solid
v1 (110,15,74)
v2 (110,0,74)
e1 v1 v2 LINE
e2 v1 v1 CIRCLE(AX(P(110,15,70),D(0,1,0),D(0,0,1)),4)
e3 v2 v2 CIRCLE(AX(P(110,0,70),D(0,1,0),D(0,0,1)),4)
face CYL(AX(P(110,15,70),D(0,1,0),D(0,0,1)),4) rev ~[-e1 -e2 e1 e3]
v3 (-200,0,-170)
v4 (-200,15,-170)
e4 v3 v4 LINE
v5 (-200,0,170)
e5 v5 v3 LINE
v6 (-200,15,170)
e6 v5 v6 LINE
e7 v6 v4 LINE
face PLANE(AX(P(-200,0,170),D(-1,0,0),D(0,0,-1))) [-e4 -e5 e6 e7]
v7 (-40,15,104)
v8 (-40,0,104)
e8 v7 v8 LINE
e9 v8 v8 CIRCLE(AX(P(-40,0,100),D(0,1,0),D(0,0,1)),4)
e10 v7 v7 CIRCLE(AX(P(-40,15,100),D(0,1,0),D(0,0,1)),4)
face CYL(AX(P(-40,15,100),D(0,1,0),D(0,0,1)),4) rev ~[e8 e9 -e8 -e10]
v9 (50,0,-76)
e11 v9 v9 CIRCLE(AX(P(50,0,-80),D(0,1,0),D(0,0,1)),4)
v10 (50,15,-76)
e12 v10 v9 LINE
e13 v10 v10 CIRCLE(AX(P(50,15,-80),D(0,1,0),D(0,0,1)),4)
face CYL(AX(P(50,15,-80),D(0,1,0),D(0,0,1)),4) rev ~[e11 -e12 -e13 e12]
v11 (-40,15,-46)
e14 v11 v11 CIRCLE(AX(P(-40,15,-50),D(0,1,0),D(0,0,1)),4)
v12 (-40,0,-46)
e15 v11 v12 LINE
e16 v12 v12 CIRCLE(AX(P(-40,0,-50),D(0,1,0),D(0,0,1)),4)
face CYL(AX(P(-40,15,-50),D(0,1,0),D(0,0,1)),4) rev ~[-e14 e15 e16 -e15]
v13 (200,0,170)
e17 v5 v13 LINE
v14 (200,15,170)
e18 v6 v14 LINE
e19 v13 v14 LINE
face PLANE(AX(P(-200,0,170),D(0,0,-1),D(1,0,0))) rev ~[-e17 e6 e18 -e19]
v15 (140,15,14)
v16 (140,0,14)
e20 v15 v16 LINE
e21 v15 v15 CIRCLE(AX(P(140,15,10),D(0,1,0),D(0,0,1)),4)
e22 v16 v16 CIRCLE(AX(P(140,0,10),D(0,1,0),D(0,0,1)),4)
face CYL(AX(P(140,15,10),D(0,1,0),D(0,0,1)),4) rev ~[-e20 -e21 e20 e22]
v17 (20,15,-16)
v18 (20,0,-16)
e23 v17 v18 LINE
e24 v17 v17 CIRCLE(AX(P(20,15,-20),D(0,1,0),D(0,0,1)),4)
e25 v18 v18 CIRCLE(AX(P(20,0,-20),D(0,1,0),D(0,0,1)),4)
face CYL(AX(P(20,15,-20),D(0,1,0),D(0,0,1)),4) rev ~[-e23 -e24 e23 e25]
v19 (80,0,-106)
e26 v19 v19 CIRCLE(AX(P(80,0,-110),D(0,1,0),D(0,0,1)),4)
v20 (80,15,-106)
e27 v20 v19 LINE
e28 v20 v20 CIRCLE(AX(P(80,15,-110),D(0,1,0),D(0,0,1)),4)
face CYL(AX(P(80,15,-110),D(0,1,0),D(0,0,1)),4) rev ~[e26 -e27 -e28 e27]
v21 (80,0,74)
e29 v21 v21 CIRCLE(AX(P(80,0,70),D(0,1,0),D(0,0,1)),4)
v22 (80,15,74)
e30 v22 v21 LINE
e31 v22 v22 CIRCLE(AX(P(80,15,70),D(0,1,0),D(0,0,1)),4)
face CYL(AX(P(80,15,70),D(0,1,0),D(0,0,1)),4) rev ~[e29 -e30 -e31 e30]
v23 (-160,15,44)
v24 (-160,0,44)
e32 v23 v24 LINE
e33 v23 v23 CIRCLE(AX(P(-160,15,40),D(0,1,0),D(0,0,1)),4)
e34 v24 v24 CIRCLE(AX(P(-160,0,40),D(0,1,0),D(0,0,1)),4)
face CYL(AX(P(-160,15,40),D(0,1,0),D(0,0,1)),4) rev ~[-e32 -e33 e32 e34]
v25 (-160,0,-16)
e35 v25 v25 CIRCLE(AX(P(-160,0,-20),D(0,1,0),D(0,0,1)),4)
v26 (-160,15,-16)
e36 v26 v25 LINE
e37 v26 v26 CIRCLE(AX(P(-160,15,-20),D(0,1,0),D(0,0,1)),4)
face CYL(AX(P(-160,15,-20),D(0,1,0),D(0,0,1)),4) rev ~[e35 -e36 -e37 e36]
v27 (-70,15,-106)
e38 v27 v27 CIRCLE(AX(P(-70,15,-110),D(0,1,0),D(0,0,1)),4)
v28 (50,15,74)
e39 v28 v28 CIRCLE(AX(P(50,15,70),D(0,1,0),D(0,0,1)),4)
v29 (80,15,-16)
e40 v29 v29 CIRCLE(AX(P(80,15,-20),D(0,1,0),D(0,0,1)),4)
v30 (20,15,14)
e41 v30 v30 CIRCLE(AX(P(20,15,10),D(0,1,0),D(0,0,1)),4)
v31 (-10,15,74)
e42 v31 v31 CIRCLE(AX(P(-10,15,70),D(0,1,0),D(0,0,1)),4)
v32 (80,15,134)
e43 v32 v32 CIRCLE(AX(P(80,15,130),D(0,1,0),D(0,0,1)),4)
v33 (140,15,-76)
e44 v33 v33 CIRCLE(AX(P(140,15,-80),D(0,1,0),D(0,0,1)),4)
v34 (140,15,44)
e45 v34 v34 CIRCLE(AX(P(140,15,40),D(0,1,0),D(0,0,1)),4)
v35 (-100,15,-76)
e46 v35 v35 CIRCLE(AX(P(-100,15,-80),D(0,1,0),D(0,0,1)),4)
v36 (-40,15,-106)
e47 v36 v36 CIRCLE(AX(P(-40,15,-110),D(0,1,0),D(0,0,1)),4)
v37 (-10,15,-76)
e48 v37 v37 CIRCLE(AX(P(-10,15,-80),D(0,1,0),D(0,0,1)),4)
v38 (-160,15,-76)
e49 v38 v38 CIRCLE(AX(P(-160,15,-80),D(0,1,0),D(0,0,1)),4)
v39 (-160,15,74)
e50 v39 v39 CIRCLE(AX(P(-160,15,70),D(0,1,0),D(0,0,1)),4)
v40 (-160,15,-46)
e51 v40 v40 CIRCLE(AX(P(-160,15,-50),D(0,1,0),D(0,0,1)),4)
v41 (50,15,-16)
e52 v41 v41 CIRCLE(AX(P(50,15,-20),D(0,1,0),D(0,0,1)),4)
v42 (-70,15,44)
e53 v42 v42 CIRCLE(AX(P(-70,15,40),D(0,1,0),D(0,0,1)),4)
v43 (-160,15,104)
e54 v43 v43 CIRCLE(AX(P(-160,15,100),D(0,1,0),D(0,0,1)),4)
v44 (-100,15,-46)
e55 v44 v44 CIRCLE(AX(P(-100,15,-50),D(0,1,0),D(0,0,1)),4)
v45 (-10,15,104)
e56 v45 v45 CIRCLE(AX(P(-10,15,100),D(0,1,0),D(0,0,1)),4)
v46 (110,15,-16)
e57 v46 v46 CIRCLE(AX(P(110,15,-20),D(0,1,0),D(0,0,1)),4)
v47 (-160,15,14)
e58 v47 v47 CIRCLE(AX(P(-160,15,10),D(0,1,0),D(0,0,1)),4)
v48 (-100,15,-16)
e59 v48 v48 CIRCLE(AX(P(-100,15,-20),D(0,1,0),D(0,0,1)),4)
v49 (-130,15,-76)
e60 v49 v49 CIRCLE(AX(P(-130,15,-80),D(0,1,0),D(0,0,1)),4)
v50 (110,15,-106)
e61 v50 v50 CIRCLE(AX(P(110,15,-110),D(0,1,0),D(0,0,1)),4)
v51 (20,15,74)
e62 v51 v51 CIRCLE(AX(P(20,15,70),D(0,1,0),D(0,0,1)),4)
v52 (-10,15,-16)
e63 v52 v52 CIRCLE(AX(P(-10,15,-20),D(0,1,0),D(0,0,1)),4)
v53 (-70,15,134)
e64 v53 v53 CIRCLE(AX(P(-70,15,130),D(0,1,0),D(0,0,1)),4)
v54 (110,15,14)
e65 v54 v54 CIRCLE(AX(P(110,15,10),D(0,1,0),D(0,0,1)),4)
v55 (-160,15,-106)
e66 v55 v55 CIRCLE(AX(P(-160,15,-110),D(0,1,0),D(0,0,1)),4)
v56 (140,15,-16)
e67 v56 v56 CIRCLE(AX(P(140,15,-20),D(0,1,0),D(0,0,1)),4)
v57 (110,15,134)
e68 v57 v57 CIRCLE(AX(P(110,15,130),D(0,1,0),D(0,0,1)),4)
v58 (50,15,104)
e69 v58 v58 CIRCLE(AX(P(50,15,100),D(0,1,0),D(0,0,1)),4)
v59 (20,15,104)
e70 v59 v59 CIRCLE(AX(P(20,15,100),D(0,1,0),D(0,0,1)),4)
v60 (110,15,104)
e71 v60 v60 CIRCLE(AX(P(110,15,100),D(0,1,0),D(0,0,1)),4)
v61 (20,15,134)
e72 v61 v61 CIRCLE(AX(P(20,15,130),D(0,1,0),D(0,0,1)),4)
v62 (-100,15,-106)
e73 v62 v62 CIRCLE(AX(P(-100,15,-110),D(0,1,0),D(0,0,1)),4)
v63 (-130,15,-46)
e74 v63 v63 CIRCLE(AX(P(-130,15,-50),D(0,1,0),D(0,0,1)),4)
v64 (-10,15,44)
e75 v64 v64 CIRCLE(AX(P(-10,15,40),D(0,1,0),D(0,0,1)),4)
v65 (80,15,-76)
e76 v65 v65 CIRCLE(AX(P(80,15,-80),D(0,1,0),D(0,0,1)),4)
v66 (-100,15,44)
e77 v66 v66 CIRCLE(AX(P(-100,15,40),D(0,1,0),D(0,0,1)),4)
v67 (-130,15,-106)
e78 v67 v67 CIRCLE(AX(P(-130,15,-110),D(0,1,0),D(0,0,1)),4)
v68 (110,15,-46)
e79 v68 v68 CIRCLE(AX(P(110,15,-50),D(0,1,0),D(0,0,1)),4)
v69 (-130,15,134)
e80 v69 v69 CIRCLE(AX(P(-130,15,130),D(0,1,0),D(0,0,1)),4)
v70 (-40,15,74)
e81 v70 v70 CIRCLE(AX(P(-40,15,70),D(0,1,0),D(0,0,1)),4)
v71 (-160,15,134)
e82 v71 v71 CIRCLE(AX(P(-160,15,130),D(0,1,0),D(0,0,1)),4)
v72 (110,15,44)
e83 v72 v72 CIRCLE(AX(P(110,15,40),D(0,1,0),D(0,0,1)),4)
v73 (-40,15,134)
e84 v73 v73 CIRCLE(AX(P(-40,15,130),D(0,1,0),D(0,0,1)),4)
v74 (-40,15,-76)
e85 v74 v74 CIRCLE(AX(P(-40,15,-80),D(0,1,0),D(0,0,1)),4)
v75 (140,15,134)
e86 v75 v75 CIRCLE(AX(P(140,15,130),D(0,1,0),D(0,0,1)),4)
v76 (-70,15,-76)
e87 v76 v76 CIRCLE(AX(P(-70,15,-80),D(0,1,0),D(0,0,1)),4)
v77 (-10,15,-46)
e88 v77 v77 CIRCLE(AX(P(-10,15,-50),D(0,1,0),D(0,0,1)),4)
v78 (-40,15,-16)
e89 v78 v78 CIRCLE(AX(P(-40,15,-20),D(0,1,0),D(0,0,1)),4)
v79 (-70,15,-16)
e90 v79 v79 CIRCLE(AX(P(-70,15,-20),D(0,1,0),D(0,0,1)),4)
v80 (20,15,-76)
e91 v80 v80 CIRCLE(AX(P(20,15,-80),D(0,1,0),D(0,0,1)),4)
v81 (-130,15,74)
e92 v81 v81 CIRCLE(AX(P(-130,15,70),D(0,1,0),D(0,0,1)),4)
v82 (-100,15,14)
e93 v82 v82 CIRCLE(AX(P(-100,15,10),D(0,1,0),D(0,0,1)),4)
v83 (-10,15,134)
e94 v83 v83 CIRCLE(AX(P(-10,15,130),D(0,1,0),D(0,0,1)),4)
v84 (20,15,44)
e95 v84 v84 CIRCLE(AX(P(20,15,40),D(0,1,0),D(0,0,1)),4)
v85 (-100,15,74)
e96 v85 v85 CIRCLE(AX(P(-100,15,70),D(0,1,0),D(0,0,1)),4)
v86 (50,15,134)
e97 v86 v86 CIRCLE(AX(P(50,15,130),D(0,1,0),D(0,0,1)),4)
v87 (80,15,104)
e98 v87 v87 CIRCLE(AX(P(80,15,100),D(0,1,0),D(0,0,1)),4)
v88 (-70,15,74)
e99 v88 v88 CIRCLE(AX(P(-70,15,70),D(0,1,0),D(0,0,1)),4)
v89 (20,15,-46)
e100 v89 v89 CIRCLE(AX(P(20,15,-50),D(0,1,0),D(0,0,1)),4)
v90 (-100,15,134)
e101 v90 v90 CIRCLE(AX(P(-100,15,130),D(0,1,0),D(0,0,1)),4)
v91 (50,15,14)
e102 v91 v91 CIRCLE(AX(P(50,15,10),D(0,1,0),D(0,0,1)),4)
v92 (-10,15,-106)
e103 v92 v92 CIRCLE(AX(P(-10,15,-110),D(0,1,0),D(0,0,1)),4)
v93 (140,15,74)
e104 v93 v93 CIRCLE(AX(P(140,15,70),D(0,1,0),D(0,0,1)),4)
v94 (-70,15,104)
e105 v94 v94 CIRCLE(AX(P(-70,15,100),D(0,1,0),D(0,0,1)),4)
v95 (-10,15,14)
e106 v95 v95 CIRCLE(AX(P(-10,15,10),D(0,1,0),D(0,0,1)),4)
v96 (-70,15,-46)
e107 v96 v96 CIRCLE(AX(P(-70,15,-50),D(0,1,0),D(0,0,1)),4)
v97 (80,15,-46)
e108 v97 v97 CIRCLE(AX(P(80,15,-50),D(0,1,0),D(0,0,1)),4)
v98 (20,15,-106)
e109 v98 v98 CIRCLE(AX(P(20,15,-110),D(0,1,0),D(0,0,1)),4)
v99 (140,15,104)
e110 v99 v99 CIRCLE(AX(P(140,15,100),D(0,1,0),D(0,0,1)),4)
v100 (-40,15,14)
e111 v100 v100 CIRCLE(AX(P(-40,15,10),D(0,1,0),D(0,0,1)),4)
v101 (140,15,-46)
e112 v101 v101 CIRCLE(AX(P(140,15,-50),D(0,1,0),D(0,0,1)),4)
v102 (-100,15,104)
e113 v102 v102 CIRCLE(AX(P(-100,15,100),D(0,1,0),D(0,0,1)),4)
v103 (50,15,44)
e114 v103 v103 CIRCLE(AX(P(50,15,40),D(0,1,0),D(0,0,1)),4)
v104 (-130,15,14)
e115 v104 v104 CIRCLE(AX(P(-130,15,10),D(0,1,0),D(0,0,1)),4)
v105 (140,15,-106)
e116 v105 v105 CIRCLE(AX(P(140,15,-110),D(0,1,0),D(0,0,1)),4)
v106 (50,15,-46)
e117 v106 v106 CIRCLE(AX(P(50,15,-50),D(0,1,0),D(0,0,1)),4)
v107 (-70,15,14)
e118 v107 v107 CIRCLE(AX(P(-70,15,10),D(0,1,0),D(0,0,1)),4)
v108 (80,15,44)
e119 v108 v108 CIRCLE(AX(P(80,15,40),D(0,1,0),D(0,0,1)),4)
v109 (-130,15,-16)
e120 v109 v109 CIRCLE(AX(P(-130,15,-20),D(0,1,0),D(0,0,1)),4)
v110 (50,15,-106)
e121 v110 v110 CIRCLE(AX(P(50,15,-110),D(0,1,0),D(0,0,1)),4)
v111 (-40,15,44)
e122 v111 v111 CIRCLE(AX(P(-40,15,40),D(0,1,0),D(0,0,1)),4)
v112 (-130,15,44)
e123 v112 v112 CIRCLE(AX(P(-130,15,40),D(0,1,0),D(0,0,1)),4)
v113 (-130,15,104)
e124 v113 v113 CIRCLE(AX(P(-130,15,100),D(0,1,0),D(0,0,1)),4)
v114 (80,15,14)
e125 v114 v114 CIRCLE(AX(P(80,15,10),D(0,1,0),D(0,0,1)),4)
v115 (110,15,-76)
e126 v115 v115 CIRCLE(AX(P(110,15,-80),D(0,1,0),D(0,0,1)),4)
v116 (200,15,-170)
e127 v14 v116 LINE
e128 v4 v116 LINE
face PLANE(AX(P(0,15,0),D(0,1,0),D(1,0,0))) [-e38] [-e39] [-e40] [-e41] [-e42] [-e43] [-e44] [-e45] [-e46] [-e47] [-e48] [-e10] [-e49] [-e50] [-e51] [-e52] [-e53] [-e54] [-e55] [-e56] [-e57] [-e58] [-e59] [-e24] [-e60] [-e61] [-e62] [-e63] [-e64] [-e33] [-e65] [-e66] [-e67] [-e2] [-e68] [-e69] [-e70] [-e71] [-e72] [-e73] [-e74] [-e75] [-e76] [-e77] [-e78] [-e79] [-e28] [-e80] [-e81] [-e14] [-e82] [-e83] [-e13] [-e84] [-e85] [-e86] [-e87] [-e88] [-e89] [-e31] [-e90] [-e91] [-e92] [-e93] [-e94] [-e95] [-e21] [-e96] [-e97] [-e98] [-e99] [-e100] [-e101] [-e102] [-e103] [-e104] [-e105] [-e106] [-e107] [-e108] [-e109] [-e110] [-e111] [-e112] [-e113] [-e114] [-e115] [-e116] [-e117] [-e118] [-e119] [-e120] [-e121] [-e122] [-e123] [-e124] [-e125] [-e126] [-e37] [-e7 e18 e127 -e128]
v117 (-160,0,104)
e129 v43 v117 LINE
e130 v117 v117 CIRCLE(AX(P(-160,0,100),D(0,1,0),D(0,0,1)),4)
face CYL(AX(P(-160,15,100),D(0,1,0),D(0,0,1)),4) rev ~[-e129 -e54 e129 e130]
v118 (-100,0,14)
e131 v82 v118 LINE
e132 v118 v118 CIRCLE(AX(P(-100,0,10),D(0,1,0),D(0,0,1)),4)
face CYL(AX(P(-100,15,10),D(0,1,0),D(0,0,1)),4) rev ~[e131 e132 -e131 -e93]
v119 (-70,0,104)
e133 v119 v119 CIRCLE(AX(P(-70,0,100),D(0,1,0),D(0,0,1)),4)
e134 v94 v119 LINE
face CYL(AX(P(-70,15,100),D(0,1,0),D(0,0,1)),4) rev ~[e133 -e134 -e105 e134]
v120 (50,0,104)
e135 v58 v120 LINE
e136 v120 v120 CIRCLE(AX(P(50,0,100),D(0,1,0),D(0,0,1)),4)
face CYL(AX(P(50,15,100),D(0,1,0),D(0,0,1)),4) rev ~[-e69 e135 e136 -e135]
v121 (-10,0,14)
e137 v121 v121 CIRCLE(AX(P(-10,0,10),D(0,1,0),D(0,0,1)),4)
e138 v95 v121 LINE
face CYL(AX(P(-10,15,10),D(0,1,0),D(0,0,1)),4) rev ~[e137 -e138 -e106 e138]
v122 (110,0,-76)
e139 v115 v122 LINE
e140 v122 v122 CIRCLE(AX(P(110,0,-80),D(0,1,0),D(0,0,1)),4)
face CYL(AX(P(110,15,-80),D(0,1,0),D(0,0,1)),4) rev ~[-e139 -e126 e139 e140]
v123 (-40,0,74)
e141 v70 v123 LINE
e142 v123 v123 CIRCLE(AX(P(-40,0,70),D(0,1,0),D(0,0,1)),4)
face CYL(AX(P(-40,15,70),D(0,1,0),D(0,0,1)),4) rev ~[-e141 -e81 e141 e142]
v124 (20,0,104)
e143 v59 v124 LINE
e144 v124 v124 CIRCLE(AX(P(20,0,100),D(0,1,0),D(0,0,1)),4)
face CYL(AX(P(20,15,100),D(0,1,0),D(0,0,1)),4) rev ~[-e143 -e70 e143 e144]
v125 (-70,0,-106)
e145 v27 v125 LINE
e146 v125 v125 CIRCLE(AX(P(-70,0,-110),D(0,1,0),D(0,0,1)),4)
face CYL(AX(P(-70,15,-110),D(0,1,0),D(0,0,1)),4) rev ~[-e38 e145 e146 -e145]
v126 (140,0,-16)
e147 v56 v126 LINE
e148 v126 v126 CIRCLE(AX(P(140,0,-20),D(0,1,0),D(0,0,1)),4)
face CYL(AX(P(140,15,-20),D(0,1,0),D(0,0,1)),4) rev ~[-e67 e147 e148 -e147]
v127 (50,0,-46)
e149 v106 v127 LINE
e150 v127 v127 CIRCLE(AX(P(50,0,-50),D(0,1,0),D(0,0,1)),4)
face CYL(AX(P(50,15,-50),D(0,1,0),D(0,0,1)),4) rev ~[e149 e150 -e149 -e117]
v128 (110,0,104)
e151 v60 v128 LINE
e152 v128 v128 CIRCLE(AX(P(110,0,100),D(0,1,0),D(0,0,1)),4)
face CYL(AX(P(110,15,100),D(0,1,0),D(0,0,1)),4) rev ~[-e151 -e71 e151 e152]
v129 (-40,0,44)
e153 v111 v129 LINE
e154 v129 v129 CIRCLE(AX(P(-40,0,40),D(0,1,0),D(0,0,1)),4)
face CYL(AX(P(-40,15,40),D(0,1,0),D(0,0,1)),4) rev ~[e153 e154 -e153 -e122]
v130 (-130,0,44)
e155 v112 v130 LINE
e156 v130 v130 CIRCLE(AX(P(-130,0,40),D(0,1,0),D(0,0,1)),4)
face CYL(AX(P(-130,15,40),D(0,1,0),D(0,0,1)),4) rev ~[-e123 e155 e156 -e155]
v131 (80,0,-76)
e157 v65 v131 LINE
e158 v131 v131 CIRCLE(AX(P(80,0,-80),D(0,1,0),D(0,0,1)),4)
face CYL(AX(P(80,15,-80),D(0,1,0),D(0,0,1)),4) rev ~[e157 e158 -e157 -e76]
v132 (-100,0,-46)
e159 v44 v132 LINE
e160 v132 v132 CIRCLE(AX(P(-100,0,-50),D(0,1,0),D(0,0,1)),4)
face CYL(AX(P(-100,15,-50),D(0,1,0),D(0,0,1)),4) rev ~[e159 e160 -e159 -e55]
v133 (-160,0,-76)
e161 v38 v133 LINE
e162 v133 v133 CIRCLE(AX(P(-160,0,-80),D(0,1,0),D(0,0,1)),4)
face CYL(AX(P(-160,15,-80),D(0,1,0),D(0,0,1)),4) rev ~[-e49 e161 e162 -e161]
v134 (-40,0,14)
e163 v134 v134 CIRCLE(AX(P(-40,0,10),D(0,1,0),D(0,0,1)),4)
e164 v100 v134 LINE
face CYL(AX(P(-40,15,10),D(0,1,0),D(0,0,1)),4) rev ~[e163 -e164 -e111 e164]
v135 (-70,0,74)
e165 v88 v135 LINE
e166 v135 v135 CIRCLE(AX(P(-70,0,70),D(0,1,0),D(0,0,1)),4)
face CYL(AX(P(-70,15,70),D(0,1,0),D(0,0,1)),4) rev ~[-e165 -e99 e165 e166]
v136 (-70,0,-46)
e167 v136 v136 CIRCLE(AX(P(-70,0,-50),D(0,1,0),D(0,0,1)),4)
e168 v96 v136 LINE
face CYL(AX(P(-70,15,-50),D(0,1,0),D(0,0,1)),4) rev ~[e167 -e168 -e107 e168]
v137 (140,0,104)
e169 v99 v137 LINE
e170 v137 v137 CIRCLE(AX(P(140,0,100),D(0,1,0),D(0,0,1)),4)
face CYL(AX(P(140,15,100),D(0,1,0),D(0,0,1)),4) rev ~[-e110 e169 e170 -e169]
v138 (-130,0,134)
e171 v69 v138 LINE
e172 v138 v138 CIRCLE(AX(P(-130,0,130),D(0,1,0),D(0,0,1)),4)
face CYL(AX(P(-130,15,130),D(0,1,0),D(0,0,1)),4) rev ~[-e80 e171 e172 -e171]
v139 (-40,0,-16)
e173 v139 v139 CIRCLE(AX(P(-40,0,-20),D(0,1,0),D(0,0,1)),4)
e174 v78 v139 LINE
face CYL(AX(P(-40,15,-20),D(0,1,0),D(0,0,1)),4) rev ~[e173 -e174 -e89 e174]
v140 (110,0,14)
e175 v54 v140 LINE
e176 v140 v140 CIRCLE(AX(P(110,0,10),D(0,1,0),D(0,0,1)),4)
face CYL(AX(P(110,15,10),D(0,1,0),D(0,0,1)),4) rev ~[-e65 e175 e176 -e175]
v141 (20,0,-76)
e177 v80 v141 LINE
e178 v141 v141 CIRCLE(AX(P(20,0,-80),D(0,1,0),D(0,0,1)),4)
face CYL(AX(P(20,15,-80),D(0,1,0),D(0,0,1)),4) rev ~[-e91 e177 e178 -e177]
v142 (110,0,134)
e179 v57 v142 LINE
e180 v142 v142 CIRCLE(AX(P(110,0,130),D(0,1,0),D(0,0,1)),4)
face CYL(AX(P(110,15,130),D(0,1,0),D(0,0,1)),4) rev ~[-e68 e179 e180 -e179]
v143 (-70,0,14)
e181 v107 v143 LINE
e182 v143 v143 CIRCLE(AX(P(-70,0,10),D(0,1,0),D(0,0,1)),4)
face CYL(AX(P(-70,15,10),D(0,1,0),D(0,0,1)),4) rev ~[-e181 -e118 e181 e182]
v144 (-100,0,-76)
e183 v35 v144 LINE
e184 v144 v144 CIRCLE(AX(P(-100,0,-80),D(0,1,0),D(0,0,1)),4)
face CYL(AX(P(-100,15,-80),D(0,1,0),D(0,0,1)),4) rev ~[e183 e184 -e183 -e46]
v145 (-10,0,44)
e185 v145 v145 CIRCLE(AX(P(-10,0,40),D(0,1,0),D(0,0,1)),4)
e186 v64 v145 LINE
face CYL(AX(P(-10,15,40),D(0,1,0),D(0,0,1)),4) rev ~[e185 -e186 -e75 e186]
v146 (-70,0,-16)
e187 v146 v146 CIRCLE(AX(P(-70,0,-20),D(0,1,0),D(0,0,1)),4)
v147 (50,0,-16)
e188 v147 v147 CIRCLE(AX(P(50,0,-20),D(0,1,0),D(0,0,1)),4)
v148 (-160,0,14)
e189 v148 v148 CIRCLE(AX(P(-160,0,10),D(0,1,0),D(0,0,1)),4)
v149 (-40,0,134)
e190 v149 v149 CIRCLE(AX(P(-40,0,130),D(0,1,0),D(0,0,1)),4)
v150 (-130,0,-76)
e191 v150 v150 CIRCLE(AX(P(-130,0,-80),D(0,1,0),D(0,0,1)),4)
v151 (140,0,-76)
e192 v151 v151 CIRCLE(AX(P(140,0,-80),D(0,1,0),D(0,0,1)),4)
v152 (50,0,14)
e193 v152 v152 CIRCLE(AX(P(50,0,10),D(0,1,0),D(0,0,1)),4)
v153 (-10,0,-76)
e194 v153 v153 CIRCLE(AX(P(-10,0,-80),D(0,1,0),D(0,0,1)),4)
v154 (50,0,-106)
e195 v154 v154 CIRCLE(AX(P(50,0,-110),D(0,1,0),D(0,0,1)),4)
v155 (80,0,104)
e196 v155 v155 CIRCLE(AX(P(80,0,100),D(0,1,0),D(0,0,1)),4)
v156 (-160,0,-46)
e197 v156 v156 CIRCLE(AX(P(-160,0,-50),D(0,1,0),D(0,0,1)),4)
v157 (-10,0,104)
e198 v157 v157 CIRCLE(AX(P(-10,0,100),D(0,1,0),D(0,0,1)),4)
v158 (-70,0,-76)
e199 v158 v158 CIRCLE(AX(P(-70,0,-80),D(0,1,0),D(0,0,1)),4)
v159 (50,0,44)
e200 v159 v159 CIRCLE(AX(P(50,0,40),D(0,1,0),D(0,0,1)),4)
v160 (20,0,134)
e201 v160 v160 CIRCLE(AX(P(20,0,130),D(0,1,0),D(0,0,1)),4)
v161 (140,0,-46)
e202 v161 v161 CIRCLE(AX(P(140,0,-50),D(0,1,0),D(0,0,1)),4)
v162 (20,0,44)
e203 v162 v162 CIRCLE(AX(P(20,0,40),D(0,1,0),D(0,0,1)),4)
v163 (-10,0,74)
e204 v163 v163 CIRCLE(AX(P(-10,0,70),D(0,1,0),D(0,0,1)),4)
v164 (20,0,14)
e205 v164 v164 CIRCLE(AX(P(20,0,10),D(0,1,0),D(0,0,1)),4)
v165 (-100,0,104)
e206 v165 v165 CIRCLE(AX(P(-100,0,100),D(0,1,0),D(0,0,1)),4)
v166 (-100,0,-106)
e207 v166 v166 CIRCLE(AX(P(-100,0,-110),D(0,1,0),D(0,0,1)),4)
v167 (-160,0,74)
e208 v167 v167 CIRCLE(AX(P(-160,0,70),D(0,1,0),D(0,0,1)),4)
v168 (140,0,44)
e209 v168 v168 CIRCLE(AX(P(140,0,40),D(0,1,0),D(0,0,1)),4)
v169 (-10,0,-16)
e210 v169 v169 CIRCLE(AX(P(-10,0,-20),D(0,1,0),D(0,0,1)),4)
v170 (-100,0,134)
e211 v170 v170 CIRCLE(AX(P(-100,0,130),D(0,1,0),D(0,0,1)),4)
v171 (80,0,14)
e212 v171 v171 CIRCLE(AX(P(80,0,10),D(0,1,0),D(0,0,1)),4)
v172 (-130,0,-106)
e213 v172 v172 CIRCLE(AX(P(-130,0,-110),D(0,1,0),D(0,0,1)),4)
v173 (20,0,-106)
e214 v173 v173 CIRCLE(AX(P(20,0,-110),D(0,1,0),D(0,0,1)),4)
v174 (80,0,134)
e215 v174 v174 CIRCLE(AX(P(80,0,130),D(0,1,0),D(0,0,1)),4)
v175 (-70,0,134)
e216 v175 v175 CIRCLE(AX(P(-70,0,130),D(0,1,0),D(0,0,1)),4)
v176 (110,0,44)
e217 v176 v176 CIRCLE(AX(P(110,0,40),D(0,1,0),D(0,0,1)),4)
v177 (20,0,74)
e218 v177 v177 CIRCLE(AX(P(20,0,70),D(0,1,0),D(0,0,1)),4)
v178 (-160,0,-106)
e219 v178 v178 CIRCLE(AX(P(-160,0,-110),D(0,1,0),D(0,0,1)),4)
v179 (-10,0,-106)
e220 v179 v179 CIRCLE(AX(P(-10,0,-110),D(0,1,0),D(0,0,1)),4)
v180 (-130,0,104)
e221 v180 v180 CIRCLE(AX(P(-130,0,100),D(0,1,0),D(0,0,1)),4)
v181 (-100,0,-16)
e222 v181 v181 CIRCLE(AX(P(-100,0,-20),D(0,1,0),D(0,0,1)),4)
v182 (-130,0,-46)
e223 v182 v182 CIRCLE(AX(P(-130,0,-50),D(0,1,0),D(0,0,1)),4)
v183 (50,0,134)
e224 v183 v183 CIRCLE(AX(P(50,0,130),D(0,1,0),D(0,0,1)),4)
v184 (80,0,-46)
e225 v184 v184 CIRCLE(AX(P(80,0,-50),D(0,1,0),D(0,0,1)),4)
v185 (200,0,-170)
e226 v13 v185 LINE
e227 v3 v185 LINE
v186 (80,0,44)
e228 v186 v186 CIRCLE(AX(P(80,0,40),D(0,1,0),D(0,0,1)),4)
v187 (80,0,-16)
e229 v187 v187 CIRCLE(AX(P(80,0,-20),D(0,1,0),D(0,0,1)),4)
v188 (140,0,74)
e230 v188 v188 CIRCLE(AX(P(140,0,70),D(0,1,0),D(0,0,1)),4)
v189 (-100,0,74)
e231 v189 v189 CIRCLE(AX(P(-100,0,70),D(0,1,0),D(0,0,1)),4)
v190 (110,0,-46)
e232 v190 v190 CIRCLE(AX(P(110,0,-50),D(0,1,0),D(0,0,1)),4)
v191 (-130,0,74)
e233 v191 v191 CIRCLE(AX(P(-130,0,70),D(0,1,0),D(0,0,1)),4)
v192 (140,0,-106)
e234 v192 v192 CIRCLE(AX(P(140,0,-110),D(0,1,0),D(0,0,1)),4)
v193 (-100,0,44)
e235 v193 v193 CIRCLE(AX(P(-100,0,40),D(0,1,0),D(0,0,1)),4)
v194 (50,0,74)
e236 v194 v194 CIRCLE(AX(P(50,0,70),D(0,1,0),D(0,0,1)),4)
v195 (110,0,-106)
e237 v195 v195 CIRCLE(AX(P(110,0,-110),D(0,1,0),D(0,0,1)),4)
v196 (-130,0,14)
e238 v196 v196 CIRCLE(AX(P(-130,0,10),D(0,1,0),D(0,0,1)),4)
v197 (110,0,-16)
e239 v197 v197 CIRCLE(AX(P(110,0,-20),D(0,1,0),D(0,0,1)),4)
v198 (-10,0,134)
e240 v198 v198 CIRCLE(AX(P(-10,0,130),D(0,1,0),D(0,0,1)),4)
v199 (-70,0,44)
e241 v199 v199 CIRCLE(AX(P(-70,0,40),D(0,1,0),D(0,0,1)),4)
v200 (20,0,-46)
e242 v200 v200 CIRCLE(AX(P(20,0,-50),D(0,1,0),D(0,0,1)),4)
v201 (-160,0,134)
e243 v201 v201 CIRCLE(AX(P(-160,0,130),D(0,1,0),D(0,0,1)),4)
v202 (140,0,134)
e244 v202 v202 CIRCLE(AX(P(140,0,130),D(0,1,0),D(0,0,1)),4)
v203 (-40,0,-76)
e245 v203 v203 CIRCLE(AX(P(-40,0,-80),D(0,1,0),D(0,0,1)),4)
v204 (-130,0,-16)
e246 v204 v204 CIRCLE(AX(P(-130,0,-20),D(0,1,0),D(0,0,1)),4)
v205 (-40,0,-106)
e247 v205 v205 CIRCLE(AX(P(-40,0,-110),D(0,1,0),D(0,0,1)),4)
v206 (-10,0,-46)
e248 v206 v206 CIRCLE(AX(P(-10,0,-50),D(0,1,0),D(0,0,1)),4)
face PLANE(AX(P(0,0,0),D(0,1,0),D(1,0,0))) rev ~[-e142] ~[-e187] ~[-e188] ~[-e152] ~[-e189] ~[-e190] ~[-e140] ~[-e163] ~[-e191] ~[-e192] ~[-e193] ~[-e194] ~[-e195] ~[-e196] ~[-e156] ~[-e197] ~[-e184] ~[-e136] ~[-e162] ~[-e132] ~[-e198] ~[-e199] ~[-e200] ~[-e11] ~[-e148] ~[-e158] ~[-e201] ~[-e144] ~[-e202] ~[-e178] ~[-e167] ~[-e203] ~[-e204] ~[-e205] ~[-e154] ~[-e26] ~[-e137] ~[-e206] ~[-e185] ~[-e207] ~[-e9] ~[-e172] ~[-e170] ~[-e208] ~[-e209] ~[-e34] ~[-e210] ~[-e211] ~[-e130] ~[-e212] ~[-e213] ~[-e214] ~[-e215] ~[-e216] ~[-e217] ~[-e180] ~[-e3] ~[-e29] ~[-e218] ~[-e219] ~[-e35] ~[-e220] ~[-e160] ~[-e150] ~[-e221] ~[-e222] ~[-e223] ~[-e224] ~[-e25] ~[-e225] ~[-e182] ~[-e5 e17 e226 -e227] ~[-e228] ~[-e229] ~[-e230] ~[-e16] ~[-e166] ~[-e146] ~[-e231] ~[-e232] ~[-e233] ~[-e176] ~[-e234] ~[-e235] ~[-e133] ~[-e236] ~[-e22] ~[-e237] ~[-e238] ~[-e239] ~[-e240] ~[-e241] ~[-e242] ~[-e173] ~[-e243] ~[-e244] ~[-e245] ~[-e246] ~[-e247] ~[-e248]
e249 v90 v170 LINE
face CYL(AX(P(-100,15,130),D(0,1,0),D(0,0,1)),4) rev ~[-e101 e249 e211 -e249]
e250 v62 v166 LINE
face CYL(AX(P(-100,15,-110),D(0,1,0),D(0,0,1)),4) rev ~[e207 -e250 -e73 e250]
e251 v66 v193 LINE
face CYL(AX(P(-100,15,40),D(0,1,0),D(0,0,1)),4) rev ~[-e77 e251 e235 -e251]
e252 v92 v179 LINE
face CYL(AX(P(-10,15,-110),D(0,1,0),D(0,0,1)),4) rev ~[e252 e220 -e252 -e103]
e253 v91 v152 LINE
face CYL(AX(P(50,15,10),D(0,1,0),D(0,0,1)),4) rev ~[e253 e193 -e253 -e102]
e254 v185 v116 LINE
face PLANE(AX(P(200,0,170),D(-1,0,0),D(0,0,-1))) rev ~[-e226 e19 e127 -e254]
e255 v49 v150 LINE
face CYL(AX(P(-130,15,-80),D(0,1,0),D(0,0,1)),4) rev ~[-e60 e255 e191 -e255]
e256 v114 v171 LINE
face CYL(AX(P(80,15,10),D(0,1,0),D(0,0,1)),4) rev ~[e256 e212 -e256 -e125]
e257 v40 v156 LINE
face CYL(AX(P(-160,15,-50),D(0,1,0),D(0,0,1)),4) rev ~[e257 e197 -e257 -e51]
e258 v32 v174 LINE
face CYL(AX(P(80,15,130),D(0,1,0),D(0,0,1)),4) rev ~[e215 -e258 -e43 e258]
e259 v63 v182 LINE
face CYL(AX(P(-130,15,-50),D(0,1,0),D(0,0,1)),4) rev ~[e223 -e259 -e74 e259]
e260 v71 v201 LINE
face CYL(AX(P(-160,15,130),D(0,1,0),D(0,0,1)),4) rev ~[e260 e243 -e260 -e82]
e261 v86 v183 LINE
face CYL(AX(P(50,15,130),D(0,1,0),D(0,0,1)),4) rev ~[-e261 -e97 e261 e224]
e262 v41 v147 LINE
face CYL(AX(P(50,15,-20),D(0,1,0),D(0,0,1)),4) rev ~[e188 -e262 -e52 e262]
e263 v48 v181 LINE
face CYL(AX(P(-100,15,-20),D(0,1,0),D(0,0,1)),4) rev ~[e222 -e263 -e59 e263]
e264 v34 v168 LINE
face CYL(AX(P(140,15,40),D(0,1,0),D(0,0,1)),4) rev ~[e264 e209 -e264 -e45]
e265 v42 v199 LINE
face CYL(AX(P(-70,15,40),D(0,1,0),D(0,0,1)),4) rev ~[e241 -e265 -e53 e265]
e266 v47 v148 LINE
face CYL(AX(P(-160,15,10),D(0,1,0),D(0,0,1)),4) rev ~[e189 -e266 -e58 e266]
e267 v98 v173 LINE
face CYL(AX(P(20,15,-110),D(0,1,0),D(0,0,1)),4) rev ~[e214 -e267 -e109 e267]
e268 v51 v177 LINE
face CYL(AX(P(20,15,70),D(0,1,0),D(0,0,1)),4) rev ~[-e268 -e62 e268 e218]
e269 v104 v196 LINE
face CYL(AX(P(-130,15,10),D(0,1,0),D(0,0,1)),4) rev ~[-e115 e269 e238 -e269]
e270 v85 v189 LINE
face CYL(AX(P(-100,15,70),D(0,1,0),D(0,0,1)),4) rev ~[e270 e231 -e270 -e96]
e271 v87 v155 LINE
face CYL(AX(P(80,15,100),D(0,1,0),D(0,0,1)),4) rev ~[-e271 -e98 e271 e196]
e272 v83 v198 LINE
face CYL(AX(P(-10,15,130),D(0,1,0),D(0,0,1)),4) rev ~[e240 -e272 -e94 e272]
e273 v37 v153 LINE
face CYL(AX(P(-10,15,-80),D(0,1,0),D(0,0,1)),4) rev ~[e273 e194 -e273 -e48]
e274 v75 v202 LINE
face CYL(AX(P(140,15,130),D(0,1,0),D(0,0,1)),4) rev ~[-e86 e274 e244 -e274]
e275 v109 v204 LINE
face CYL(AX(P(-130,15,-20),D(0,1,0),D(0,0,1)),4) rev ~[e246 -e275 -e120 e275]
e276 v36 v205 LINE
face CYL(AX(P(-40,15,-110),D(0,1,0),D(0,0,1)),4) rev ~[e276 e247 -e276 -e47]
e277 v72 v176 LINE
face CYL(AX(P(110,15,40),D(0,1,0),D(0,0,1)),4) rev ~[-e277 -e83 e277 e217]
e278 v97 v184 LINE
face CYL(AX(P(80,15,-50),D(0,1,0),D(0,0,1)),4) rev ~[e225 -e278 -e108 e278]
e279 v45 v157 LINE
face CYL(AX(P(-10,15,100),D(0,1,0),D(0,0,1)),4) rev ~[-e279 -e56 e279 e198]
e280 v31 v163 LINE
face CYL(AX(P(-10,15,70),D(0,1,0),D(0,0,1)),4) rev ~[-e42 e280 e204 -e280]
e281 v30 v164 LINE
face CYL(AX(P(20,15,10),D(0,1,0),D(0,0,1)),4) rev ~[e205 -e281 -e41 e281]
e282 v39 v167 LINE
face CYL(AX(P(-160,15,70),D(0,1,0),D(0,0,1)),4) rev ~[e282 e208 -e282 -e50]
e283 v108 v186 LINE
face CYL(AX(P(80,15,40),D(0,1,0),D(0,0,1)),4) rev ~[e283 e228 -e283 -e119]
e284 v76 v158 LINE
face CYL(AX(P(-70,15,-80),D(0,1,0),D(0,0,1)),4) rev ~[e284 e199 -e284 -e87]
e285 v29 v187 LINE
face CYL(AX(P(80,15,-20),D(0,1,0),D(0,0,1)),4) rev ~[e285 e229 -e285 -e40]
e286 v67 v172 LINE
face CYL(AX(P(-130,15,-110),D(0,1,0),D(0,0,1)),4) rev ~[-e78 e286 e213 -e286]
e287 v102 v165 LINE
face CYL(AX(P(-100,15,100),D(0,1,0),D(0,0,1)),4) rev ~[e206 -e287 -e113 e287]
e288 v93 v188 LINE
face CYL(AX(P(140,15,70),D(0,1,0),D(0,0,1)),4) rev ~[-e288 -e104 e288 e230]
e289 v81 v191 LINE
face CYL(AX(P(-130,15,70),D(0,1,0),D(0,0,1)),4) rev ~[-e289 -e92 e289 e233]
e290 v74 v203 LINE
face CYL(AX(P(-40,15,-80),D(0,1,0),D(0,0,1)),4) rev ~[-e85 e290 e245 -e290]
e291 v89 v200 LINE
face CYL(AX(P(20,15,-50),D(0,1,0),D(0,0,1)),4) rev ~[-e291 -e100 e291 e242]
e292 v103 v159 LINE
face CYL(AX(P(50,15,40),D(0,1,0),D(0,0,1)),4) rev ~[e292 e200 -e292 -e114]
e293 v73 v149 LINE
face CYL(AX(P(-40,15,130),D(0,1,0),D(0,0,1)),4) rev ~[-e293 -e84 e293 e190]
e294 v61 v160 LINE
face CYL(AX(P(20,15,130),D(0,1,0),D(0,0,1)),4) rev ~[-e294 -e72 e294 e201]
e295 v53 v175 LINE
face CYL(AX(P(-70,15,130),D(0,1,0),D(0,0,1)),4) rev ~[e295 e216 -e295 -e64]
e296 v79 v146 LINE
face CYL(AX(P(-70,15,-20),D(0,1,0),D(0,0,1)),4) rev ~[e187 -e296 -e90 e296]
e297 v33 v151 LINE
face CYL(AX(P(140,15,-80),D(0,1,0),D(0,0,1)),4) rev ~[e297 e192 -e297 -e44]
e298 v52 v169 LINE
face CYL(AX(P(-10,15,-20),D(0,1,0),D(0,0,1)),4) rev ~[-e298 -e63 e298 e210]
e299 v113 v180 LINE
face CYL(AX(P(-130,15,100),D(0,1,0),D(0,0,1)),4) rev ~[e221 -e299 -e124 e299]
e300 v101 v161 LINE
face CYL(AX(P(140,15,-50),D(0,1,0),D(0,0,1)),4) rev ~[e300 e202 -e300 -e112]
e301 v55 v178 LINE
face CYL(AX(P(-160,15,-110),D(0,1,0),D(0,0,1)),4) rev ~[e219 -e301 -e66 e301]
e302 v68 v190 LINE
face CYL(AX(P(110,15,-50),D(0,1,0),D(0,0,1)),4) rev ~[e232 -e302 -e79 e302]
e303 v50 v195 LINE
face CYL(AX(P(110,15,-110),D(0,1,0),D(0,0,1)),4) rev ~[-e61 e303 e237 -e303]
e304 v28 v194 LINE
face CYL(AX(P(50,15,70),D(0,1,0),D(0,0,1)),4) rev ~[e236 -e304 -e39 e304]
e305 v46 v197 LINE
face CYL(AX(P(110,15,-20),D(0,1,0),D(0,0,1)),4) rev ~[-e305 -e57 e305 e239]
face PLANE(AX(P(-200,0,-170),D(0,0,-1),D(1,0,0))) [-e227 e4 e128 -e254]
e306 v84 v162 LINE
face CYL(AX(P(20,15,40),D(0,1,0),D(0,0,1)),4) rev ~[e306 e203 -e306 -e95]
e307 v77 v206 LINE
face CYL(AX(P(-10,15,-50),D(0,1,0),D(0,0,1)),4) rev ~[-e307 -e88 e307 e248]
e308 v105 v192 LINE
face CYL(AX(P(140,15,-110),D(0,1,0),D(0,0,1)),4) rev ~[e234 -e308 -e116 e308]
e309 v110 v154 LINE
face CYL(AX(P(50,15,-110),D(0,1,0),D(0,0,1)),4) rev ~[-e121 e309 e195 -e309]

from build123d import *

# Parameters (mm, degrees)
ESBO_O1_W                 = 400
ESBO_O1_H                 = 340
RESSALTO_EXTRUS_O1_DEPTH  = 15
ESBO_O2_R                 = 4
CORTE_EXTRUS_O1_DEPTH     = 263.916336503
PADR_O_LINEAR1_COUNT      = 11
PADR_O_LINEAR1_PITCH      = 30
PADR_O_LINEAR1_COUNT_DIR2 = 9
PADR_O_LINEAR1_PITCH_DIR2 = 30


with BuildPart() as part:
    # Esboço1 → Ressalto-extrusão1 (new body)
    with BuildSketch(Plane(origin=(0, 0, 0), x_dir=(1, 0, 0), z_dir=(0, 1, 0))):
        Rectangle(ESBO_O1_W, ESBO_O1_H)
    extrude(amount=RESSALTO_EXTRUS_O1_DEPTH)

    # Esboço2 → Corte-extrusão1 (cut, through all)
    with BuildSketch(Plane(origin=(0, 15, 0), x_dir=(1, 0, 0), z_dir=(0, 1, 0))):
        with Locations(Location((-160, -130, 0), (0, 0, 270))):
            Circle(ESBO_O2_R)
    corte_extrus_o1 = extrude(amount=-CORTE_EXTRUS_O1_DEPTH, mode=Mode.SUBTRACT)

    # Padrão linear1: Corte-extrus_o1 11 × 9
    with Locations(*[(i * PADR_O_LINEAR1_PITCH, 0, -j * PADR_O_LINEAR1_PITCH_DIR2) for i in range(PADR_O_LINEAR1_COUNT) for j in range(PADR_O_LINEAR1_COUNT_DIR2) if (i, j) != (0, 0)]):
        add(corte_extrus_o1, mode=Mode.SUBTRACT)


solid = part.part
